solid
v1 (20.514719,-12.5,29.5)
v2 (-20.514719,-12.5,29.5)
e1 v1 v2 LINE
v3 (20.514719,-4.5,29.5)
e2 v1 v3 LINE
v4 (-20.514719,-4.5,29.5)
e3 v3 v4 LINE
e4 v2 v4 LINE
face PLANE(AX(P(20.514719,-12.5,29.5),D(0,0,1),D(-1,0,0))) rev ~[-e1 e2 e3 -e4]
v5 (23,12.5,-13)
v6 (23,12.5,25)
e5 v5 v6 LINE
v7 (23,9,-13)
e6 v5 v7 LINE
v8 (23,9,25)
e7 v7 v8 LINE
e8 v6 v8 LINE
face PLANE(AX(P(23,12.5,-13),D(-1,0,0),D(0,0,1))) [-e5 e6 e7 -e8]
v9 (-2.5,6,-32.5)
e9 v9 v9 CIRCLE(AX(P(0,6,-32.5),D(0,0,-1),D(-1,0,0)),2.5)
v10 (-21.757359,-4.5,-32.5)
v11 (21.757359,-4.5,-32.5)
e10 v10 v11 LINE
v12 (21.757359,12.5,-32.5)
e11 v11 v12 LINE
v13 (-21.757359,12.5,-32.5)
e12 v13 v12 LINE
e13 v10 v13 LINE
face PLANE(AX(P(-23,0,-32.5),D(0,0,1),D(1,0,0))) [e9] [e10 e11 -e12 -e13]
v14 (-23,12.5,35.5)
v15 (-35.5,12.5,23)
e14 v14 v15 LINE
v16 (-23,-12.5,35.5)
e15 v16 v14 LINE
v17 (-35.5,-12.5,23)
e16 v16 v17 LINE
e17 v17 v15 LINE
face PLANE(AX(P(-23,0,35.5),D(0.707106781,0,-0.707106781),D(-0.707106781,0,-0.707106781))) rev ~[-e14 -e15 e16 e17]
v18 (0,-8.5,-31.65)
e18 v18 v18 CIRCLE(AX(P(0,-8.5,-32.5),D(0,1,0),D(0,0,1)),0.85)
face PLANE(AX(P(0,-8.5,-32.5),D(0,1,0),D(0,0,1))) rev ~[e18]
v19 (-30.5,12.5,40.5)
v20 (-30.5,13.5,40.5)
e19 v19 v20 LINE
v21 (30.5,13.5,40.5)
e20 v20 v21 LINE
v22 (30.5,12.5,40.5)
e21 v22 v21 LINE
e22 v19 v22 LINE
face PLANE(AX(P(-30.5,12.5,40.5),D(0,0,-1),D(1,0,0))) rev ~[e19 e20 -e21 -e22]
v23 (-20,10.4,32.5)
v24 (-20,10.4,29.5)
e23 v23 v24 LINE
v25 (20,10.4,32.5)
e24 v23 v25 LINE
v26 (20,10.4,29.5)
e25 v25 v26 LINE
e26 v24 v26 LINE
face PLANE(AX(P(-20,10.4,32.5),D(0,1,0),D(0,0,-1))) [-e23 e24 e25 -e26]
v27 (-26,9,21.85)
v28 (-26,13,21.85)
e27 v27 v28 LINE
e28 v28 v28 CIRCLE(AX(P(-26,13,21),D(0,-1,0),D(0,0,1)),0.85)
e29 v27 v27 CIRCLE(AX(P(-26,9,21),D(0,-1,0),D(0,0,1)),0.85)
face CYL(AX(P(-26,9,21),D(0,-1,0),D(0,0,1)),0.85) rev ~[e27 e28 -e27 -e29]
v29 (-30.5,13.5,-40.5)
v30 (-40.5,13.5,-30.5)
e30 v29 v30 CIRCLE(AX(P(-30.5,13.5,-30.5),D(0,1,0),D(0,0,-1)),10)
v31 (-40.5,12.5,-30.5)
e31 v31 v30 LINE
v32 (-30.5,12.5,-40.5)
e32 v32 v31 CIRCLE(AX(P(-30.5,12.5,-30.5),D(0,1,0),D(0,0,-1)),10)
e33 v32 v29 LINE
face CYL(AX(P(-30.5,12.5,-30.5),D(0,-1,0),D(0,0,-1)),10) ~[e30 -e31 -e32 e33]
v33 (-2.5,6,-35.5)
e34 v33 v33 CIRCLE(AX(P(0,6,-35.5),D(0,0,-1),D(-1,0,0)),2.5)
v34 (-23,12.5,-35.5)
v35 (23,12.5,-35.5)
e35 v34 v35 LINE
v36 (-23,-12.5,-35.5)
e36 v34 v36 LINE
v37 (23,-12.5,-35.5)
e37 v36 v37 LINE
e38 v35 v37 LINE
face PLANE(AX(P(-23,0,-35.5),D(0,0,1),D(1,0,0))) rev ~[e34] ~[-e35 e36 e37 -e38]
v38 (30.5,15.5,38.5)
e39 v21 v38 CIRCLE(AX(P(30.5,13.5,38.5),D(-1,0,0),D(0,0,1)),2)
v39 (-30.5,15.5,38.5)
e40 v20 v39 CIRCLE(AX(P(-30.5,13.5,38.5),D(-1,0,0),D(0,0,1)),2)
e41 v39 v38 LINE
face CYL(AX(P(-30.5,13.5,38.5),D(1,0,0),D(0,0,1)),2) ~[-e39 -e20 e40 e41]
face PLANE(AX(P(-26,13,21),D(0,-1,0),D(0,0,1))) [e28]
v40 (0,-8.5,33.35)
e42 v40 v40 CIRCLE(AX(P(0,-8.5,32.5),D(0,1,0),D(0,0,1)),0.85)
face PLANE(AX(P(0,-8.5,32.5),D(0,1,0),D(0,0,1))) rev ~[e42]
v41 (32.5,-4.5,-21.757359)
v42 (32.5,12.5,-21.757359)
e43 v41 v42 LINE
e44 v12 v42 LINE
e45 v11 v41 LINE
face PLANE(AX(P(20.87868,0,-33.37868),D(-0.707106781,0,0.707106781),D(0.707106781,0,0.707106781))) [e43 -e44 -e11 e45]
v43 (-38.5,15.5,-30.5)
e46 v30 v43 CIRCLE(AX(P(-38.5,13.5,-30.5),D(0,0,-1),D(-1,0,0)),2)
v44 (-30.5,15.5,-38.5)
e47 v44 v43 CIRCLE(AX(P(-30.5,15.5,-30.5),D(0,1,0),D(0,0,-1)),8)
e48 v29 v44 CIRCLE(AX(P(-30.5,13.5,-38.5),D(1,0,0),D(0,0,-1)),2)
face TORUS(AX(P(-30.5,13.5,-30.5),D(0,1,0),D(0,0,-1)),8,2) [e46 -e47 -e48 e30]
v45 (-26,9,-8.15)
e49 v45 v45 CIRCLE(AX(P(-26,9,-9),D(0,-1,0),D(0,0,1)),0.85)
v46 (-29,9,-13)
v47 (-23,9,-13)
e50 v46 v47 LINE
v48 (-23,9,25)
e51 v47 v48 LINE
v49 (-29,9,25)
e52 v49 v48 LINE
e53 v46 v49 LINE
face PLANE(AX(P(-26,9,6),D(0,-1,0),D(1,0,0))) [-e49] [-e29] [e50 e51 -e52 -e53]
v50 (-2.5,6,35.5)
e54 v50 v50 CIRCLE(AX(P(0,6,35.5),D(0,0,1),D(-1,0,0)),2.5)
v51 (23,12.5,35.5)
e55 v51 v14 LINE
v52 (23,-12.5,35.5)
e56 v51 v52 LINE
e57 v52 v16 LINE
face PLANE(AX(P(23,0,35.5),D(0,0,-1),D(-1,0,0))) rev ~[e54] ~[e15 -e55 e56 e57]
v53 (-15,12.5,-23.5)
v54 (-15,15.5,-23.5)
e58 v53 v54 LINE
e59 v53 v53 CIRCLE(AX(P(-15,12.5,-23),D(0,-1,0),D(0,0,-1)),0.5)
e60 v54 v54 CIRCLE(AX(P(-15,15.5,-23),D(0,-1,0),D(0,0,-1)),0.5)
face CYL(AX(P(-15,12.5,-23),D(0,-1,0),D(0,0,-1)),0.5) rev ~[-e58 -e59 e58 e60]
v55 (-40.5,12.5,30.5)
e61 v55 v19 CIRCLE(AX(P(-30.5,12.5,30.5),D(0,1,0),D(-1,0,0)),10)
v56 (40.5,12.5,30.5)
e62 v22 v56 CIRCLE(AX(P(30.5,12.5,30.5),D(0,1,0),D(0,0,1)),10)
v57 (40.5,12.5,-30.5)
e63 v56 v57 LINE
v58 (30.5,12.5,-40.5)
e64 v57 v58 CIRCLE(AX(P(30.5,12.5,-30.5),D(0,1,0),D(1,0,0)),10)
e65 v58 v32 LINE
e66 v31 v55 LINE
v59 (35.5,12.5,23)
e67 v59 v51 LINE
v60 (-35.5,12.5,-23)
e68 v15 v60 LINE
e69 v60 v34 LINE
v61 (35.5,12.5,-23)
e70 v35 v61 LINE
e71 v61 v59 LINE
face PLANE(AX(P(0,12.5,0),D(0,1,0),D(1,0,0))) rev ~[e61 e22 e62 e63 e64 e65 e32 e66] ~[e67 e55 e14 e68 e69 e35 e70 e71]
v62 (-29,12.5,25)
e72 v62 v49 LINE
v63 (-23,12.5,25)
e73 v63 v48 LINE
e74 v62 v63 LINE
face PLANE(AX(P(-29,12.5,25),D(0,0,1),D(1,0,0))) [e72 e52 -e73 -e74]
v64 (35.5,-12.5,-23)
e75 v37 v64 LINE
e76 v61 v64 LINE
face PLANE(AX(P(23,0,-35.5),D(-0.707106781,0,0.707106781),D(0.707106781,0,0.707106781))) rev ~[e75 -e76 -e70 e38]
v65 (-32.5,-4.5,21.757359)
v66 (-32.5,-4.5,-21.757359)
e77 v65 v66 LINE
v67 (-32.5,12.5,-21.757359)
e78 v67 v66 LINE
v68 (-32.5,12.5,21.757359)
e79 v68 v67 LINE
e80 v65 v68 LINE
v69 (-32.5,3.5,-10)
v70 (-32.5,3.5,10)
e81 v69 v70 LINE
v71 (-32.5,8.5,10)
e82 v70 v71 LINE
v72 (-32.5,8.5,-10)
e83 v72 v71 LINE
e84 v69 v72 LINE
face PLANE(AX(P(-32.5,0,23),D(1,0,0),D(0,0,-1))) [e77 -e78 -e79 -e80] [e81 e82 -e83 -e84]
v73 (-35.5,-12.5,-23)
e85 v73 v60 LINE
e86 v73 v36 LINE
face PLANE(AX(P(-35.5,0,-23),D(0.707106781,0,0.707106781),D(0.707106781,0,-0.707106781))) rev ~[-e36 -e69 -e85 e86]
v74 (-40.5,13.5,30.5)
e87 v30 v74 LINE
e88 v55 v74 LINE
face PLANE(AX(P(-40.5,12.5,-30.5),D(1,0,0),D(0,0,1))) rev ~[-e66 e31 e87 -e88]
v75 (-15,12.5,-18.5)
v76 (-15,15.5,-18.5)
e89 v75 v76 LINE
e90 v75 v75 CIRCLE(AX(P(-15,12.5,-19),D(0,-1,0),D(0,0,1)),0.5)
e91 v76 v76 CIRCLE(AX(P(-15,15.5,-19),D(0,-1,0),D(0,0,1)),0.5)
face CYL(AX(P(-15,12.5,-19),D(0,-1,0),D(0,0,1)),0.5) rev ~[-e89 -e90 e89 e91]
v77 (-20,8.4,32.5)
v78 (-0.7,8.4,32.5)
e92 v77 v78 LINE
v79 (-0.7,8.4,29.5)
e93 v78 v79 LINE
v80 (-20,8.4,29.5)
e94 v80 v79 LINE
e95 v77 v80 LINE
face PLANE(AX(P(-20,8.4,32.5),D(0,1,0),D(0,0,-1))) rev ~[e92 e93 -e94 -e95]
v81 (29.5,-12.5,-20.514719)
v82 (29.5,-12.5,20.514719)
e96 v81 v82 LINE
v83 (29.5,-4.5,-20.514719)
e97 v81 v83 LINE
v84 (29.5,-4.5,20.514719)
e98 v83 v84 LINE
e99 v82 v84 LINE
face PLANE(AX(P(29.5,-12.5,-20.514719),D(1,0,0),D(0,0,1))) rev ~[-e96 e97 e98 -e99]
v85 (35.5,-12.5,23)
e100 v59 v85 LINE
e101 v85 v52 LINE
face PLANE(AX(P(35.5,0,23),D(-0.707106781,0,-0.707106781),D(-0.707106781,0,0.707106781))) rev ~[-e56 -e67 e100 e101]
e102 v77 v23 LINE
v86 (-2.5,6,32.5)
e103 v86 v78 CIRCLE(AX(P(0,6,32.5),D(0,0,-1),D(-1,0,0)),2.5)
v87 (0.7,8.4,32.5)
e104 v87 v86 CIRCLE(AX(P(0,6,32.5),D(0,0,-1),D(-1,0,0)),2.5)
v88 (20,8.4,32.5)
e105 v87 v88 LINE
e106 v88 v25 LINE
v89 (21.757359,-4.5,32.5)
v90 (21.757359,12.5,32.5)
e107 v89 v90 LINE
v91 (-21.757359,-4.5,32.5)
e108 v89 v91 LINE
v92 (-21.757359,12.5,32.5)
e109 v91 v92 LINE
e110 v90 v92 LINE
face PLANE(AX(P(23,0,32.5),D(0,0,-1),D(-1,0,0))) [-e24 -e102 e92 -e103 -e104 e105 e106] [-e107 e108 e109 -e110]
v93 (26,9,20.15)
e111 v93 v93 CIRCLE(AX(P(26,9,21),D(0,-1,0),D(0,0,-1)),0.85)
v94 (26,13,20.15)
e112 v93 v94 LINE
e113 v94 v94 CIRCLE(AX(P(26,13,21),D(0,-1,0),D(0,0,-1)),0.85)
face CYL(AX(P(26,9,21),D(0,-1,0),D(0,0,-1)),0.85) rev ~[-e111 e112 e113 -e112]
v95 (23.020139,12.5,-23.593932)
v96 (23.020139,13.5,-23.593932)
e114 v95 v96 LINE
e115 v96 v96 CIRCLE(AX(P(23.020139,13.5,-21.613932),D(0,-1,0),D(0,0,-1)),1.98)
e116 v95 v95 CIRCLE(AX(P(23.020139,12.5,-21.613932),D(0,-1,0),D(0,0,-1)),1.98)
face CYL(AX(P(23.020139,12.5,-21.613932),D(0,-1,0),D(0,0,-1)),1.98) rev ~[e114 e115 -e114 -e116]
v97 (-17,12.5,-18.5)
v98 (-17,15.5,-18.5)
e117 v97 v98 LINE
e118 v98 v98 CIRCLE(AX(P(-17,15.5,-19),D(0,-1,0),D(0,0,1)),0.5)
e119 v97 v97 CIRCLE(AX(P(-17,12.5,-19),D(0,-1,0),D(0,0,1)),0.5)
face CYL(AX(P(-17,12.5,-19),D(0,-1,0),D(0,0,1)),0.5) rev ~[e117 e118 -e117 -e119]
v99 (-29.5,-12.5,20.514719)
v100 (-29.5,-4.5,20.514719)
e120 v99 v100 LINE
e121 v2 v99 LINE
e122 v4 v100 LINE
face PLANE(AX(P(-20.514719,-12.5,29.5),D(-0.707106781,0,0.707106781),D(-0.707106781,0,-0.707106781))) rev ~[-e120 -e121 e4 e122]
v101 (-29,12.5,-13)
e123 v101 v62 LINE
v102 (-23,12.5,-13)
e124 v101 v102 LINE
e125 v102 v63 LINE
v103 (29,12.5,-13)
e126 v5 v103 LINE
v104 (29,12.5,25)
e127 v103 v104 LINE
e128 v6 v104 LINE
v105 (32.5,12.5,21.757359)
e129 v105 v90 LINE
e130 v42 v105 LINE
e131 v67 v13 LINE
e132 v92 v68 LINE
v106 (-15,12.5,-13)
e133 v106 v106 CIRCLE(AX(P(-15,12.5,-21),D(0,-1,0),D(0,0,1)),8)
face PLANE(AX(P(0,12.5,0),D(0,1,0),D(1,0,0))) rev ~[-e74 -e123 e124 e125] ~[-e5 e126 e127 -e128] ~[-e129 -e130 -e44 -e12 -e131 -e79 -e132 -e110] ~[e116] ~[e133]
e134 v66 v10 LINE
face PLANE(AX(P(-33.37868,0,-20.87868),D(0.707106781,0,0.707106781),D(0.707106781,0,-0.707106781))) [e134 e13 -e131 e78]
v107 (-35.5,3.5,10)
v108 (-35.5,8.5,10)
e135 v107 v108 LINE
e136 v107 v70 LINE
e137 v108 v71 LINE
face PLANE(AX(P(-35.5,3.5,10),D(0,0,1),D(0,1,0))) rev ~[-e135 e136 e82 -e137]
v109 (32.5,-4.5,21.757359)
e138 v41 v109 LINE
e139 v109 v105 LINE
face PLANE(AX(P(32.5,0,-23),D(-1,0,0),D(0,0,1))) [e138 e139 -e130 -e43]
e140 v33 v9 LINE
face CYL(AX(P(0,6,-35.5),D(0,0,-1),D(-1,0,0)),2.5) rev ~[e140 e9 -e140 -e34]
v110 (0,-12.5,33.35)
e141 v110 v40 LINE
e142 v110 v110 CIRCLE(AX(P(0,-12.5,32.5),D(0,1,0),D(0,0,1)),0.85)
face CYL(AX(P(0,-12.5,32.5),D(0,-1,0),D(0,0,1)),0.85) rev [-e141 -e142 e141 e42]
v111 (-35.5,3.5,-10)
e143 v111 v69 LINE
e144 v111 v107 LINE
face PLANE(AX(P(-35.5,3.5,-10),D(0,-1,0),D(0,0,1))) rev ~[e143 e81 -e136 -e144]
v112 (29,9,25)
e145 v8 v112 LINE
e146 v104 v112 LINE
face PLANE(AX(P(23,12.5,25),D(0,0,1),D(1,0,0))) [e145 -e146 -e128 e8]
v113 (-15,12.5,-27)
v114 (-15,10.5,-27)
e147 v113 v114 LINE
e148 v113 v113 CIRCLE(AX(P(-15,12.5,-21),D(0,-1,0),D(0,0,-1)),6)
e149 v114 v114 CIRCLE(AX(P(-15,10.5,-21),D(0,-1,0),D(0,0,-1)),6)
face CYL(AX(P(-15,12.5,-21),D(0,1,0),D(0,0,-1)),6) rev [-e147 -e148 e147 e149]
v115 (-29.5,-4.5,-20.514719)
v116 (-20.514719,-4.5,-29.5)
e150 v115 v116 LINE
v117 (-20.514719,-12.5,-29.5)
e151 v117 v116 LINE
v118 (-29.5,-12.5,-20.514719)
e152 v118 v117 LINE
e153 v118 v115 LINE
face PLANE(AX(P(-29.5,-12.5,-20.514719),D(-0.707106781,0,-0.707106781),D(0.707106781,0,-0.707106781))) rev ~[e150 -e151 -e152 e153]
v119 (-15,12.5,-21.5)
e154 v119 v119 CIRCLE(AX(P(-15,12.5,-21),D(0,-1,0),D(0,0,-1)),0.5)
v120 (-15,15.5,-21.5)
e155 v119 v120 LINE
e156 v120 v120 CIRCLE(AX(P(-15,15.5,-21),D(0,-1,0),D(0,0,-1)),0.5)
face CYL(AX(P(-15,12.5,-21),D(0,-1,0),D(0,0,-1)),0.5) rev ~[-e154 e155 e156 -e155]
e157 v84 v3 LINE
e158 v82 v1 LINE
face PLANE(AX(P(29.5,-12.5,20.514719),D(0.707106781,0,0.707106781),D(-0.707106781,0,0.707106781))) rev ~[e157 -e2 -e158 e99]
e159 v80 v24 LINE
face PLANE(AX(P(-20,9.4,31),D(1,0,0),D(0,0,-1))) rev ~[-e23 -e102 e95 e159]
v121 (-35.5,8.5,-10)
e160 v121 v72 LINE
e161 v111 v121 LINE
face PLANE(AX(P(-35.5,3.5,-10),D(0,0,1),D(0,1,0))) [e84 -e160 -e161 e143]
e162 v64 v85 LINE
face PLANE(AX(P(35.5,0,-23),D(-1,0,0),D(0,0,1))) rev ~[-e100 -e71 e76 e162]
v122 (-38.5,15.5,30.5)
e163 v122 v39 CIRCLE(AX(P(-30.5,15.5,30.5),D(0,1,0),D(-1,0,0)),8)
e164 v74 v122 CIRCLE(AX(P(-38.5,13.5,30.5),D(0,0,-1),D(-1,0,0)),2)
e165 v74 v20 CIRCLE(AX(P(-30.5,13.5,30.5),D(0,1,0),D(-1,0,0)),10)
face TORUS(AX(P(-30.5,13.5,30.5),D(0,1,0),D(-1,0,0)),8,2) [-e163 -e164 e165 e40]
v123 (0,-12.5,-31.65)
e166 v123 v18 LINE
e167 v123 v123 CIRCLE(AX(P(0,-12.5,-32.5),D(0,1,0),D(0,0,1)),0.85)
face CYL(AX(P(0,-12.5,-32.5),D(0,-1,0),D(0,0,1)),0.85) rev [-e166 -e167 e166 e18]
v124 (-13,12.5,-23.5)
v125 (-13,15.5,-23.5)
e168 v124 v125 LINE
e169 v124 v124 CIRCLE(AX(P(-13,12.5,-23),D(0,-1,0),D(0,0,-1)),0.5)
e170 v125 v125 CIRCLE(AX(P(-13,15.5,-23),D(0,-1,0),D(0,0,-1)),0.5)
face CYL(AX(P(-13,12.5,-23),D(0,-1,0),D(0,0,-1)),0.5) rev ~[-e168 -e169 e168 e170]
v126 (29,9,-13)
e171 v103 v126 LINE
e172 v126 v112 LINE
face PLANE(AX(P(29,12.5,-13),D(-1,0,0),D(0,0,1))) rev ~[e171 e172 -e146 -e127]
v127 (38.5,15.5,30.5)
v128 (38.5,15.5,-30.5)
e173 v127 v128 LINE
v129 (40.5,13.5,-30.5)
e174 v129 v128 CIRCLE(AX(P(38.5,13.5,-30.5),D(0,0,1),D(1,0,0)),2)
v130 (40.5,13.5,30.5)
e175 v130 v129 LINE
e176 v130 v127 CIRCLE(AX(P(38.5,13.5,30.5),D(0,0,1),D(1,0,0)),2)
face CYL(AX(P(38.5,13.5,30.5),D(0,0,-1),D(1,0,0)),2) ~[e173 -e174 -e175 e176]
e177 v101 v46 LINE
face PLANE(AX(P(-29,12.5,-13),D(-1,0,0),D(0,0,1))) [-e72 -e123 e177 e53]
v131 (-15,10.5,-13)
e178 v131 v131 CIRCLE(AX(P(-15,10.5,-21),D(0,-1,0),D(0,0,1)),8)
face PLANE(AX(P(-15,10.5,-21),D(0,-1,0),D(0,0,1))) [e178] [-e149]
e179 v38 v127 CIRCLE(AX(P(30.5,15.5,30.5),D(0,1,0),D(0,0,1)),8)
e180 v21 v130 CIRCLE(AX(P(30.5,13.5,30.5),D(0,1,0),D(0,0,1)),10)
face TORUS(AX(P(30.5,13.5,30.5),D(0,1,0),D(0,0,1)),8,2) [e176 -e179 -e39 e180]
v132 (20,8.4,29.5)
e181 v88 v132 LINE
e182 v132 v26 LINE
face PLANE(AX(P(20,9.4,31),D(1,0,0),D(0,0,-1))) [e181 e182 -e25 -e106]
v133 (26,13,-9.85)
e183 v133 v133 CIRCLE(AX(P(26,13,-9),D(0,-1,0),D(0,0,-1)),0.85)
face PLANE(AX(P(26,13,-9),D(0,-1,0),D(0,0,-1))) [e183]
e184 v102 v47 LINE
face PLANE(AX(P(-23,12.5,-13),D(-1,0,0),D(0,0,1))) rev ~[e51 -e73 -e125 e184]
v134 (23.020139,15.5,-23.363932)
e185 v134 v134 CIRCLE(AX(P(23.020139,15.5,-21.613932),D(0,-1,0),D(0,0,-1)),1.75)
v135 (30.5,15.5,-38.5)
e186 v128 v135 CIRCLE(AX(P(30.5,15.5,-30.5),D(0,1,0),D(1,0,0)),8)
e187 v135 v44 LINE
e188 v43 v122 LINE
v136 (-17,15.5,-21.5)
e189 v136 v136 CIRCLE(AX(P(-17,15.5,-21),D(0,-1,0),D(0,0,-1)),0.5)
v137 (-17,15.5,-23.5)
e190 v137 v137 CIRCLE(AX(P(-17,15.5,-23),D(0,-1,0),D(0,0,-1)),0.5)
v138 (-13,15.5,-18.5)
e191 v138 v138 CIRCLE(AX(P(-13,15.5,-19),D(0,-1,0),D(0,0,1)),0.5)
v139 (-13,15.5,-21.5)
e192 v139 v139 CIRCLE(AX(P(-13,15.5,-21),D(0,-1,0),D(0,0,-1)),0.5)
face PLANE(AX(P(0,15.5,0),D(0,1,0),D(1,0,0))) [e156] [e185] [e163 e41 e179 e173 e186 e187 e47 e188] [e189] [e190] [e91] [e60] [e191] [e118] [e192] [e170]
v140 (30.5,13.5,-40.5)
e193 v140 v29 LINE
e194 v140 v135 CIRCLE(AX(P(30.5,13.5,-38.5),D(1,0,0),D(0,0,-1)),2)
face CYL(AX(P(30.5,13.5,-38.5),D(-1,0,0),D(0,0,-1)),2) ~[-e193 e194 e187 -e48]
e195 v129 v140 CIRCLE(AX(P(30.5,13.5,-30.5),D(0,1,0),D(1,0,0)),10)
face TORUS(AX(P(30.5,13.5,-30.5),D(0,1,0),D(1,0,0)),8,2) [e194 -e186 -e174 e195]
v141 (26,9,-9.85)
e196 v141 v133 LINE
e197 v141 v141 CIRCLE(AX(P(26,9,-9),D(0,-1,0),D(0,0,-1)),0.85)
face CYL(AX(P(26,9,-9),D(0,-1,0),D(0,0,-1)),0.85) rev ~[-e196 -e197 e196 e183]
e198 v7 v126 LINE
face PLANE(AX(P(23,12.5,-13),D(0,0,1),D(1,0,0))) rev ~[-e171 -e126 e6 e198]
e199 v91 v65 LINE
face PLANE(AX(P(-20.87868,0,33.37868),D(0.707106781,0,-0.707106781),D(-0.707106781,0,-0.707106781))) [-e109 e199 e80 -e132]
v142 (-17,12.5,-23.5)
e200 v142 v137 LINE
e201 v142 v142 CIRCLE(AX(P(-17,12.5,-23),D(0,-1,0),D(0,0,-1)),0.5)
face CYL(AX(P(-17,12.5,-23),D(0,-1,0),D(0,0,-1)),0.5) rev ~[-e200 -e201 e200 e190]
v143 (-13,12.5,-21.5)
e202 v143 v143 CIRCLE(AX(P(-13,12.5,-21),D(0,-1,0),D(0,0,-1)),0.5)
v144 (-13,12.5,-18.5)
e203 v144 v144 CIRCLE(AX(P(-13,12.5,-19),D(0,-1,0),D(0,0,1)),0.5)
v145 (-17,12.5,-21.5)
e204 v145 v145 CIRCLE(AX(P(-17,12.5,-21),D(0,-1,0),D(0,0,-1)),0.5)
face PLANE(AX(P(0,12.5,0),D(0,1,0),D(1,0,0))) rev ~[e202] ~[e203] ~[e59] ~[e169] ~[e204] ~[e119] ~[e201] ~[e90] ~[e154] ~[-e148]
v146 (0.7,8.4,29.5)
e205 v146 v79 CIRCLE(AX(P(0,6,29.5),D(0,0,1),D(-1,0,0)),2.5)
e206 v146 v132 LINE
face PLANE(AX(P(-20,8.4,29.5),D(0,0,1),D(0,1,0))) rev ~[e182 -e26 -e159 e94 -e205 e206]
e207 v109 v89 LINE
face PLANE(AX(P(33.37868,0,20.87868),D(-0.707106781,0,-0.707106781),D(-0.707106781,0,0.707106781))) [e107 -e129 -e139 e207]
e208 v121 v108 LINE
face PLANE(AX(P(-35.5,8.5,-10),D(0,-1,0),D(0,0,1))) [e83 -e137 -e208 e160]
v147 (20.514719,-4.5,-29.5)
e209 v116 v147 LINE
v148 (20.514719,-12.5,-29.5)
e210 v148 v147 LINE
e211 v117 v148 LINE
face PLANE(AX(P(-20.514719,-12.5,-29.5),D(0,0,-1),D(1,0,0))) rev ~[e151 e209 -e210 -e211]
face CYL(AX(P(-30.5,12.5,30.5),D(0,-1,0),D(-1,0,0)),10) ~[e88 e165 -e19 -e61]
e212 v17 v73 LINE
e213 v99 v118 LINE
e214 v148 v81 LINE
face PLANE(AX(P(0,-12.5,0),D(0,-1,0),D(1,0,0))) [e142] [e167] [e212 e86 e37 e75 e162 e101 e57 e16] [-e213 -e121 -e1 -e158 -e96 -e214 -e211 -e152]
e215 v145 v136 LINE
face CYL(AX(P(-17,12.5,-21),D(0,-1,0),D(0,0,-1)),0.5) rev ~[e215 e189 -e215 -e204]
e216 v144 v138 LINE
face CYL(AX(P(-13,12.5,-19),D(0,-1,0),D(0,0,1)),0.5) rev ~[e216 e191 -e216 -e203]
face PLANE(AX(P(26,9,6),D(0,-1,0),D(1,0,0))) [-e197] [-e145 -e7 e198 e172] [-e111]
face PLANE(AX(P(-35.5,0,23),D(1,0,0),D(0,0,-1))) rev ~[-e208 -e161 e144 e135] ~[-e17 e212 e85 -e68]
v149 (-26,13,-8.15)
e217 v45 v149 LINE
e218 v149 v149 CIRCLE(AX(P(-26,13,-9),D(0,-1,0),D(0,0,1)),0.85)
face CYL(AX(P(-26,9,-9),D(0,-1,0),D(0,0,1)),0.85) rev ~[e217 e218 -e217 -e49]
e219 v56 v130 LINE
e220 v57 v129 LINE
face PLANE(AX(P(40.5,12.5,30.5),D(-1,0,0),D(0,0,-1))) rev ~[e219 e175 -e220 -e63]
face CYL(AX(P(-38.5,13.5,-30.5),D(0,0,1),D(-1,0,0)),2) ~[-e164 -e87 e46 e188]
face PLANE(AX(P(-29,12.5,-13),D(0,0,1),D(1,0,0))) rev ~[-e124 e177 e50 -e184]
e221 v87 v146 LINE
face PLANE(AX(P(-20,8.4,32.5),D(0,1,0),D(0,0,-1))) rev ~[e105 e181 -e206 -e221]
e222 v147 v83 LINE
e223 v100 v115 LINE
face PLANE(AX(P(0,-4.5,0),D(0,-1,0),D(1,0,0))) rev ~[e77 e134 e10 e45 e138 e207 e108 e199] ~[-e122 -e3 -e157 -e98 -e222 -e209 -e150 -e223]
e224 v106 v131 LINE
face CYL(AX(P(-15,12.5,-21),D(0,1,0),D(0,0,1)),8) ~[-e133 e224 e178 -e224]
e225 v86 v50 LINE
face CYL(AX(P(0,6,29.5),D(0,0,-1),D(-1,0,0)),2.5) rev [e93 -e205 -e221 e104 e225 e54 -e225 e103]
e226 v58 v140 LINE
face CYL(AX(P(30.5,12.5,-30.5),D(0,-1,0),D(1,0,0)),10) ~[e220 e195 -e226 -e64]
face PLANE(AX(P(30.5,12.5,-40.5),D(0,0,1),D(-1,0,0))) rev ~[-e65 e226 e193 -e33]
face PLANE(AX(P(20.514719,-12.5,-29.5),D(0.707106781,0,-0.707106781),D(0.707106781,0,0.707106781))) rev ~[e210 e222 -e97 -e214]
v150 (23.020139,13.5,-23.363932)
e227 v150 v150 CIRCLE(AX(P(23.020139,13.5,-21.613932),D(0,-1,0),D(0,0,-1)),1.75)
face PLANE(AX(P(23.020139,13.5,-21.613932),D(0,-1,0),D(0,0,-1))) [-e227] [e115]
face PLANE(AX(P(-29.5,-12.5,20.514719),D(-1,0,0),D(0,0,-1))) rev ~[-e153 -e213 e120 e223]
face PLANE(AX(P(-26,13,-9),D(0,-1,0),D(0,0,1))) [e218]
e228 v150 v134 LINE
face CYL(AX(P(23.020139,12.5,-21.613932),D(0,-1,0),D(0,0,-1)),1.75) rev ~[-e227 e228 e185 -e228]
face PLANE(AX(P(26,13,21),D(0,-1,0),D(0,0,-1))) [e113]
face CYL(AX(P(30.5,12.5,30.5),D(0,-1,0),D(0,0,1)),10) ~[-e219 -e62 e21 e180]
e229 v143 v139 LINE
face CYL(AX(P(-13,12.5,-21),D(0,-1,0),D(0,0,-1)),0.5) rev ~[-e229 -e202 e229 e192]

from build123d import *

# Parameters (mm, degrees)
BOSS_EXTRUDE1_DEPTH = 12.5
BOSS_EXTRUDE2_START = 12.5
BOSS_EXTRUDE2_DEPTH = 3
FILLET2_R           = 2
SHELL1_T            = -3
BOSS_EXTRUDE5_START = -20
SKETCH11_W          = 3
SKETCH11_H          = 2
BOSS_EXTRUDE5_DEPTH = 40
SKETCH12_W          = 6
SKETCH12_H          = 38
BOSS_EXTRUDE6_DEPTH = 3.5
SKETCH16_R          = 0.85
CUT_EXTRUDE5_DEPTH  = 4
CUT_EXTRUDE6_REACH  = 64.494
SKETCH17_R          = 1.75
SKETCH18_R          = 1.98
CUT_EXTRUDE7_DEPTH  = 1
CUT_EXTRUDE8_REACH  = 89.501
SKETCH19_W          = 20
SKETCH19_H          = 5
EXTRUDE_THIN1_START = 25
EXTRUDE_THIN1_DEPTH = 8
CUT_EXTRUDE9_START  = -12.5
SKETCH21_R          = 0.85
CUT_EXTRUDE9_DEPTH  = 4
CUT_EXTRUDE10_REACH = 64.494
SKETCH22_R          = 0.5
CUT_EXTRUDE12_REACH = 89.501
SKETCH23_R          = 2.5
CUT_EXTRUDE13_START = -6
SKETCH24_R          = 2.5
CUT_EXTRUDE13_DEPTH = 6
SKETCH25_R          = 8
SKETCH25_R_2        = 6
BOSS_EXTRUDE7_DEPTH = 2


with BuildPart() as part:
    # Sketch1 → Boss-Extrude1 (new, symmetric)
    with BuildSketch(Plane(origin=(0, 0, 0), x_dir=(1, 0, 0), z_dir=(0, 1, 0))):
        Polygon((-35.5, 23), (-23, 35.5), (23, 35.5), (35.5, 23), (35.5, -23), (23, -35.5), (-23, -35.5), (-35.5, -23), align=None)
    extrude(amount=BOSS_EXTRUDE1_DEPTH, both=True)

    # Sketch2 → Boss-Extrude2 (add)
    with BuildSketch(Plane(origin=(0, 0, 0), x_dir=(1, 0, 0), z_dir=(0, 1, 0)).offset(BOSS_EXTRUDE2_START)):
        with BuildLine():
            Line((-30.5, -40.5), (30.5, -40.5))
            ThreePointArc((30.5, -40.5), (37.571067812, -37.571067812), (40.5, -30.5))
            Line((40.5, -30.5), (40.5, 30.5))
            ThreePointArc((40.5, 30.5), (37.571067812, 37.571067812), (30.5, 40.5))
            Line((30.5, 40.5), (-30.5, 40.5))
            ThreePointArc((-30.5, 40.5), (-37.571067812, 37.571067812), (-40.5, 30.5))
            Line((-40.5, 30.5), (-40.5, -30.5))
            ThreePointArc((-40.5, -30.5), (-37.571067812, -37.571067812), (-30.5, -40.5))
        make_face()
    extrude(amount=BOSS_EXTRUDE2_DEPTH)

    # Fillet2
    fillet2_edges = [part.edges().sort_by_distance(p)[0] for p in [
        (0, 15.5, 40.5),
        (40.5, 15.5, 0),
        (0, 15.5, -40.5),
        (-40.5, 15.5, 0),
        (-37.571067812, 15.5, 37.571067812),
        (37.571067812, 15.5, 37.571067812),
        (37.571067812, 15.5, -37.571067812),
        (-37.571067812, 15.5, -37.571067812),
    ]]
    fillet(fillet2_edges, radius=FILLET2_R)

    # Shell1
    shell1_openings = [part.faces().sort_by_distance(p)[0] for p in [
        (0, -12.5, 0),
    ]]
    offset(amount=SHELL1_T, openings=shell1_openings, kind=Kind.INTERSECTION)

    # Sketch11 → Boss-Extrude5 (add)
    with BuildSketch(Plane(origin=(0, 0, 0), x_dir=(0, 0, -1), z_dir=(1, 0, 0)).offset(BOSS_EXTRUDE5_START)):
        with Locations((-31, 9.4)):
            Rectangle(SKETCH11_W, SKETCH11_H)
    extrude(amount=BOSS_EXTRUDE5_DEPTH)

    # Sketch12 → Boss-Extrude6 (add)
    with BuildSketch(Plane.XZ.offset(-12.5)):
        with Locations((-26, 6)):
            Rectangle(SKETCH12_W, SKETCH12_H)
        with Locations((26, 6)):
            Rectangle(SKETCH12_W, SKETCH12_H)
    extrude(amount=BOSS_EXTRUDE6_DEPTH)

    # Sketch16 → Cut-Extrude5 (cut)
    with BuildSketch(Plane.XZ.offset(-9)):
        with Locations(Location((26, 21, 0), (0, 0, 270))):
            Circle(SKETCH16_R)
        with Locations(Location((26, -9, 0), (0, 0, 270))):
            Circle(SKETCH16_R)
        with Locations(Location((-26, -9, 0), (0, 0, 90))):
            Circle(SKETCH16_R)
        with Locations(Location((-26, 21, 0), (0, 0, 90))):
            Circle(SKETCH16_R)
    extrude(amount=-CUT_EXTRUDE5_DEPTH, mode=Mode.SUBTRACT)

    # Sketch17 → Cut-Extrude6 (cut, up to next)
    with BuildSketch(Plane.XZ.offset(-12.5), mode=Mode.PRIVATE) as cut_extrude6_sk1:
        with Locations(Location((23.020139488, -21.613931872, 0), (0, 0, 270))):
            Circle(SKETCH17_R)
    cut_extrude6_tool1 = extrude(cut_extrude6_sk1.sketch, amount=-CUT_EXTRUDE6_REACH, mode=Mode.PRIVATE) & part.part
    add(cut_extrude6_tool1.solids().sort_by_distance((23.020139, 12.5, -21.613932))[0], mode=Mode.SUBTRACT)

    # Sketch18 → Cut-Extrude7 (cut)
    with BuildSketch(Plane.XZ.offset(-12.5)):
        with Locations(Location((23.020139488, -21.613931872, 0), (0, 0, 270))):
            Circle(SKETCH18_R)
    extrude(amount=-CUT_EXTRUDE7_DEPTH, mode=Mode.SUBTRACT)

    # Sketch19 → Cut-Extrude8 (cut, up to next)
    with BuildSketch(Plane.ZY.offset(35.5), mode=Mode.PRIVATE) as cut_extrude8_sk1:
        with Locations((0, 6)):
            Rectangle(SKETCH19_W, SKETCH19_H)
    cut_extrude8_tool1 = extrude(cut_extrude8_sk1.sketch, amount=-CUT_EXTRUDE8_REACH, mode=Mode.PRIVATE) & part.part
    add(cut_extrude8_tool1.solids().sort_by_distance((-35.5, 6, 0))[0], mode=Mode.SUBTRACT)

    # Sketch20 → Extrude-Thin1 (add)
    with BuildSketch(Plane.XZ.offset(-12.5).offset(EXTRUDE_THIN1_START)):
        Polygon((-32.5, 21.757359313), (-32.5, -21.757359313), (-21.757359313, -32.5), (21.757359313, -32.5), (32.5, -21.757359313), (32.5, 21.757359313), (21.757359313, 32.5), (-21.757359313, 32.5), align=None)
        Polygon((-29.5, 20.514718626), (-29.5, -20.514718626), (-20.514718626, -29.5), (20.514718626, -29.5), (29.5, -20.514718626), (29.5, 20.514718626), (20.514718626, 29.5), (-20.514718626, 29.5), align=None, mode=Mode.SUBTRACT)
    extrude(amount=-EXTRUDE_THIN1_DEPTH)

    # Sketch21 → Cut-Extrude9 (cut)
    with BuildSketch(Plane(origin=(0, 0, 0), x_dir=(1, 0, 0), z_dir=(0, 1, 0)).offset(CUT_EXTRUDE9_START)):
        with Locations(Location((0, -32.5, 0), (0, 0, 270))):
            Circle(SKETCH21_R)
        with Locations(Location((0, 32.5, 0), (0, 0, 270))):
            Circle(SKETCH21_R)
    extrude(amount=CUT_EXTRUDE9_DEPTH, mode=Mode.SUBTRACT)

    # Sketch22 → Cut-Extrude10 (cut, up to next)
    with BuildSketch(Plane.XZ.offset(-12.5), mode=Mode.PRIVATE) as cut_extrude10_sk1:
        with Locations(Location((-17, -23, 0), (0, 0, 270))):
            Circle(SKETCH22_R)
    cut_extrude10_tool1 = extrude(cut_extrude10_sk1.sketch, amount=-CUT_EXTRUDE10_REACH, mode=Mode.PRIVATE) & part.part
    # Sketch22 → Cut-Extrude10 (cut, up to next)
    with BuildSketch(Plane.XZ.offset(-12.5), mode=Mode.PRIVATE) as cut_extrude10_sk2:
        with Locations(Location((-15, -23, 0), (0, 0, 270))):
            Circle(SKETCH22_R)
    cut_extrude10_tool2 = extrude(cut_extrude10_sk2.sketch, amount=-CUT_EXTRUDE10_REACH, mode=Mode.PRIVATE) & part.part
    # Sketch22 → Cut-Extrude10 (cut, up to next)
    with BuildSketch(Plane.XZ.offset(-12.5), mode=Mode.PRIVATE) as cut_extrude10_sk3:
        with Locations(Location((-13, -23, 0), (0, 0, 270))):
            Circle(SKETCH22_R)
    cut_extrude10_tool3 = extrude(cut_extrude10_sk3.sketch, amount=-CUT_EXTRUDE10_REACH, mode=Mode.PRIVATE) & part.part
    # Sketch22 → Cut-Extrude10 (cut, up to next)
    with BuildSketch(Plane.XZ.offset(-12.5), mode=Mode.PRIVATE) as cut_extrude10_sk4:
        with Locations(Location((-15, -21, 0), (0, 0, 270))):
            Circle(SKETCH22_R)
    cut_extrude10_tool4 = extrude(cut_extrude10_sk4.sketch, amount=-CUT_EXTRUDE10_REACH, mode=Mode.PRIVATE) & part.part
    # Sketch22 → Cut-Extrude10 (cut, up to next)
    with BuildSketch(Plane.XZ.offset(-12.5), mode=Mode.PRIVATE) as cut_extrude10_sk5:
        with Locations(Location((-17, -21, 0), (0, 0, 270))):
            Circle(SKETCH22_R)
    cut_extrude10_tool5 = extrude(cut_extrude10_sk5.sketch, amount=-CUT_EXTRUDE10_REACH, mode=Mode.PRIVATE) & part.part
    # Sketch22 → Cut-Extrude10 (cut, up to next)
    with BuildSketch(Plane.XZ.offset(-12.5), mode=Mode.PRIVATE) as cut_extrude10_sk6:
        with Locations(Location((-13, -21, 0), (0, 0, 270))):
            Circle(SKETCH22_R)
    cut_extrude10_tool6 = extrude(cut_extrude10_sk6.sketch, amount=-CUT_EXTRUDE10_REACH, mode=Mode.PRIVATE) & part.part
    # Sketch22 → Cut-Extrude10 (cut, up to next)
    with BuildSketch(Plane.XZ.offset(-12.5), mode=Mode.PRIVATE) as cut_extrude10_sk7:
        with Locations(Location((-13, -19, 0), (0, 0, 90))):
            Circle(SKETCH22_R)
    cut_extrude10_tool7 = extrude(cut_extrude10_sk7.sketch, amount=-CUT_EXTRUDE10_REACH, mode=Mode.PRIVATE) & part.part
    # Sketch22 → Cut-Extrude10 (cut, up to next)
    with BuildSketch(Plane.XZ.offset(-12.5), mode=Mode.PRIVATE) as cut_extrude10_sk8:
        with Locations(Location((-15, -19, 0), (0, 0, 90))):
            Circle(SKETCH22_R)
    cut_extrude10_tool8 = extrude(cut_extrude10_sk8.sketch, amount=-CUT_EXTRUDE10_REACH, mode=Mode.PRIVATE) & part.part
    # Sketch22 → Cut-Extrude10 (cut, up to next)
    with BuildSketch(Plane.XZ.offset(-12.5), mode=Mode.PRIVATE) as cut_extrude10_sk9:
        with Locations(Location((-17, -19, 0), (0, 0, 90))):
            Circle(SKETCH22_R)
    cut_extrude10_tool9 = extrude(cut_extrude10_sk9.sketch, amount=-CUT_EXTRUDE10_REACH, mode=Mode.PRIVATE) & part.part
    add(cut_extrude10_tool1.solids().sort_by_distance((-17, 12.5, -23))[0], mode=Mode.SUBTRACT)
    add(cut_extrude10_tool2.solids().sort_by_distance((-15, 12.5, -23))[0], mode=Mode.SUBTRACT)
    add(cut_extrude10_tool3.solids().sort_by_distance((-13, 12.5, -23))[0], mode=Mode.SUBTRACT)
    add(cut_extrude10_tool4.solids().sort_by_distance((-15, 12.5, -21))[0], mode=Mode.SUBTRACT)
    add(cut_extrude10_tool5.solids().sort_by_distance((-17, 12.5, -21))[0], mode=Mode.SUBTRACT)
    add(cut_extrude10_tool6.solids().sort_by_distance((-13, 12.5, -21))[0], mode=Mode.SUBTRACT)
    add(cut_extrude10_tool7.solids().sort_by_distance((-13, 12.5, -19))[0], mode=Mode.SUBTRACT)
    add(cut_extrude10_tool8.solids().sort_by_distance((-15, 12.5, -19))[0], mode=Mode.SUBTRACT)
    add(cut_extrude10_tool9.solids().sort_by_distance((-17, 12.5, -19))[0], mode=Mode.SUBTRACT)

    # Sketch23 → Cut-Extrude12 (cut, up to next)
    with BuildSketch(Plane(origin=(0, 0, -35.5), x_dir=(-1, 0, 0), z_dir=(0, 0, -1)), mode=Mode.PRIVATE) as cut_extrude12_sk1:
        with Locations((0, 6)):
            Circle(SKETCH23_R)
    cut_extrude12_tool1 = extrude(cut_extrude12_sk1.sketch, amount=-CUT_EXTRUDE12_REACH, mode=Mode.PRIVATE) & part.part
    add(cut_extrude12_tool1.solids().sort_by_distance((0, 6, -35.5))[0], mode=Mode.SUBTRACT)

    # Sketch24 → Cut-Extrude13 (cut)
    with BuildSketch(Plane.XY.offset(35.5).offset(CUT_EXTRUDE13_START)):
        with Locations(Location((0, 6, 0), (0, 0, 180))):
            Circle(SKETCH24_R)
    extrude(amount=CUT_EXTRUDE13_DEPTH, mode=Mode.SUBTRACT)

    # Sketch25 → Boss-Extrude7 (add)
    with BuildSketch(Plane.XZ.offset(-12.5)):
        with Locations(Location((-15, -21, 0), (0, 0, 90))):
            Circle(SKETCH25_R)
        with Locations(Location((-15, -21, 0), (0, 0, 270))):
            Circle(SKETCH25_R_2, mode=Mode.SUBTRACT)
    extrude(amount=BOSS_EXTRUDE7_DEPTH)


solid = part.part
